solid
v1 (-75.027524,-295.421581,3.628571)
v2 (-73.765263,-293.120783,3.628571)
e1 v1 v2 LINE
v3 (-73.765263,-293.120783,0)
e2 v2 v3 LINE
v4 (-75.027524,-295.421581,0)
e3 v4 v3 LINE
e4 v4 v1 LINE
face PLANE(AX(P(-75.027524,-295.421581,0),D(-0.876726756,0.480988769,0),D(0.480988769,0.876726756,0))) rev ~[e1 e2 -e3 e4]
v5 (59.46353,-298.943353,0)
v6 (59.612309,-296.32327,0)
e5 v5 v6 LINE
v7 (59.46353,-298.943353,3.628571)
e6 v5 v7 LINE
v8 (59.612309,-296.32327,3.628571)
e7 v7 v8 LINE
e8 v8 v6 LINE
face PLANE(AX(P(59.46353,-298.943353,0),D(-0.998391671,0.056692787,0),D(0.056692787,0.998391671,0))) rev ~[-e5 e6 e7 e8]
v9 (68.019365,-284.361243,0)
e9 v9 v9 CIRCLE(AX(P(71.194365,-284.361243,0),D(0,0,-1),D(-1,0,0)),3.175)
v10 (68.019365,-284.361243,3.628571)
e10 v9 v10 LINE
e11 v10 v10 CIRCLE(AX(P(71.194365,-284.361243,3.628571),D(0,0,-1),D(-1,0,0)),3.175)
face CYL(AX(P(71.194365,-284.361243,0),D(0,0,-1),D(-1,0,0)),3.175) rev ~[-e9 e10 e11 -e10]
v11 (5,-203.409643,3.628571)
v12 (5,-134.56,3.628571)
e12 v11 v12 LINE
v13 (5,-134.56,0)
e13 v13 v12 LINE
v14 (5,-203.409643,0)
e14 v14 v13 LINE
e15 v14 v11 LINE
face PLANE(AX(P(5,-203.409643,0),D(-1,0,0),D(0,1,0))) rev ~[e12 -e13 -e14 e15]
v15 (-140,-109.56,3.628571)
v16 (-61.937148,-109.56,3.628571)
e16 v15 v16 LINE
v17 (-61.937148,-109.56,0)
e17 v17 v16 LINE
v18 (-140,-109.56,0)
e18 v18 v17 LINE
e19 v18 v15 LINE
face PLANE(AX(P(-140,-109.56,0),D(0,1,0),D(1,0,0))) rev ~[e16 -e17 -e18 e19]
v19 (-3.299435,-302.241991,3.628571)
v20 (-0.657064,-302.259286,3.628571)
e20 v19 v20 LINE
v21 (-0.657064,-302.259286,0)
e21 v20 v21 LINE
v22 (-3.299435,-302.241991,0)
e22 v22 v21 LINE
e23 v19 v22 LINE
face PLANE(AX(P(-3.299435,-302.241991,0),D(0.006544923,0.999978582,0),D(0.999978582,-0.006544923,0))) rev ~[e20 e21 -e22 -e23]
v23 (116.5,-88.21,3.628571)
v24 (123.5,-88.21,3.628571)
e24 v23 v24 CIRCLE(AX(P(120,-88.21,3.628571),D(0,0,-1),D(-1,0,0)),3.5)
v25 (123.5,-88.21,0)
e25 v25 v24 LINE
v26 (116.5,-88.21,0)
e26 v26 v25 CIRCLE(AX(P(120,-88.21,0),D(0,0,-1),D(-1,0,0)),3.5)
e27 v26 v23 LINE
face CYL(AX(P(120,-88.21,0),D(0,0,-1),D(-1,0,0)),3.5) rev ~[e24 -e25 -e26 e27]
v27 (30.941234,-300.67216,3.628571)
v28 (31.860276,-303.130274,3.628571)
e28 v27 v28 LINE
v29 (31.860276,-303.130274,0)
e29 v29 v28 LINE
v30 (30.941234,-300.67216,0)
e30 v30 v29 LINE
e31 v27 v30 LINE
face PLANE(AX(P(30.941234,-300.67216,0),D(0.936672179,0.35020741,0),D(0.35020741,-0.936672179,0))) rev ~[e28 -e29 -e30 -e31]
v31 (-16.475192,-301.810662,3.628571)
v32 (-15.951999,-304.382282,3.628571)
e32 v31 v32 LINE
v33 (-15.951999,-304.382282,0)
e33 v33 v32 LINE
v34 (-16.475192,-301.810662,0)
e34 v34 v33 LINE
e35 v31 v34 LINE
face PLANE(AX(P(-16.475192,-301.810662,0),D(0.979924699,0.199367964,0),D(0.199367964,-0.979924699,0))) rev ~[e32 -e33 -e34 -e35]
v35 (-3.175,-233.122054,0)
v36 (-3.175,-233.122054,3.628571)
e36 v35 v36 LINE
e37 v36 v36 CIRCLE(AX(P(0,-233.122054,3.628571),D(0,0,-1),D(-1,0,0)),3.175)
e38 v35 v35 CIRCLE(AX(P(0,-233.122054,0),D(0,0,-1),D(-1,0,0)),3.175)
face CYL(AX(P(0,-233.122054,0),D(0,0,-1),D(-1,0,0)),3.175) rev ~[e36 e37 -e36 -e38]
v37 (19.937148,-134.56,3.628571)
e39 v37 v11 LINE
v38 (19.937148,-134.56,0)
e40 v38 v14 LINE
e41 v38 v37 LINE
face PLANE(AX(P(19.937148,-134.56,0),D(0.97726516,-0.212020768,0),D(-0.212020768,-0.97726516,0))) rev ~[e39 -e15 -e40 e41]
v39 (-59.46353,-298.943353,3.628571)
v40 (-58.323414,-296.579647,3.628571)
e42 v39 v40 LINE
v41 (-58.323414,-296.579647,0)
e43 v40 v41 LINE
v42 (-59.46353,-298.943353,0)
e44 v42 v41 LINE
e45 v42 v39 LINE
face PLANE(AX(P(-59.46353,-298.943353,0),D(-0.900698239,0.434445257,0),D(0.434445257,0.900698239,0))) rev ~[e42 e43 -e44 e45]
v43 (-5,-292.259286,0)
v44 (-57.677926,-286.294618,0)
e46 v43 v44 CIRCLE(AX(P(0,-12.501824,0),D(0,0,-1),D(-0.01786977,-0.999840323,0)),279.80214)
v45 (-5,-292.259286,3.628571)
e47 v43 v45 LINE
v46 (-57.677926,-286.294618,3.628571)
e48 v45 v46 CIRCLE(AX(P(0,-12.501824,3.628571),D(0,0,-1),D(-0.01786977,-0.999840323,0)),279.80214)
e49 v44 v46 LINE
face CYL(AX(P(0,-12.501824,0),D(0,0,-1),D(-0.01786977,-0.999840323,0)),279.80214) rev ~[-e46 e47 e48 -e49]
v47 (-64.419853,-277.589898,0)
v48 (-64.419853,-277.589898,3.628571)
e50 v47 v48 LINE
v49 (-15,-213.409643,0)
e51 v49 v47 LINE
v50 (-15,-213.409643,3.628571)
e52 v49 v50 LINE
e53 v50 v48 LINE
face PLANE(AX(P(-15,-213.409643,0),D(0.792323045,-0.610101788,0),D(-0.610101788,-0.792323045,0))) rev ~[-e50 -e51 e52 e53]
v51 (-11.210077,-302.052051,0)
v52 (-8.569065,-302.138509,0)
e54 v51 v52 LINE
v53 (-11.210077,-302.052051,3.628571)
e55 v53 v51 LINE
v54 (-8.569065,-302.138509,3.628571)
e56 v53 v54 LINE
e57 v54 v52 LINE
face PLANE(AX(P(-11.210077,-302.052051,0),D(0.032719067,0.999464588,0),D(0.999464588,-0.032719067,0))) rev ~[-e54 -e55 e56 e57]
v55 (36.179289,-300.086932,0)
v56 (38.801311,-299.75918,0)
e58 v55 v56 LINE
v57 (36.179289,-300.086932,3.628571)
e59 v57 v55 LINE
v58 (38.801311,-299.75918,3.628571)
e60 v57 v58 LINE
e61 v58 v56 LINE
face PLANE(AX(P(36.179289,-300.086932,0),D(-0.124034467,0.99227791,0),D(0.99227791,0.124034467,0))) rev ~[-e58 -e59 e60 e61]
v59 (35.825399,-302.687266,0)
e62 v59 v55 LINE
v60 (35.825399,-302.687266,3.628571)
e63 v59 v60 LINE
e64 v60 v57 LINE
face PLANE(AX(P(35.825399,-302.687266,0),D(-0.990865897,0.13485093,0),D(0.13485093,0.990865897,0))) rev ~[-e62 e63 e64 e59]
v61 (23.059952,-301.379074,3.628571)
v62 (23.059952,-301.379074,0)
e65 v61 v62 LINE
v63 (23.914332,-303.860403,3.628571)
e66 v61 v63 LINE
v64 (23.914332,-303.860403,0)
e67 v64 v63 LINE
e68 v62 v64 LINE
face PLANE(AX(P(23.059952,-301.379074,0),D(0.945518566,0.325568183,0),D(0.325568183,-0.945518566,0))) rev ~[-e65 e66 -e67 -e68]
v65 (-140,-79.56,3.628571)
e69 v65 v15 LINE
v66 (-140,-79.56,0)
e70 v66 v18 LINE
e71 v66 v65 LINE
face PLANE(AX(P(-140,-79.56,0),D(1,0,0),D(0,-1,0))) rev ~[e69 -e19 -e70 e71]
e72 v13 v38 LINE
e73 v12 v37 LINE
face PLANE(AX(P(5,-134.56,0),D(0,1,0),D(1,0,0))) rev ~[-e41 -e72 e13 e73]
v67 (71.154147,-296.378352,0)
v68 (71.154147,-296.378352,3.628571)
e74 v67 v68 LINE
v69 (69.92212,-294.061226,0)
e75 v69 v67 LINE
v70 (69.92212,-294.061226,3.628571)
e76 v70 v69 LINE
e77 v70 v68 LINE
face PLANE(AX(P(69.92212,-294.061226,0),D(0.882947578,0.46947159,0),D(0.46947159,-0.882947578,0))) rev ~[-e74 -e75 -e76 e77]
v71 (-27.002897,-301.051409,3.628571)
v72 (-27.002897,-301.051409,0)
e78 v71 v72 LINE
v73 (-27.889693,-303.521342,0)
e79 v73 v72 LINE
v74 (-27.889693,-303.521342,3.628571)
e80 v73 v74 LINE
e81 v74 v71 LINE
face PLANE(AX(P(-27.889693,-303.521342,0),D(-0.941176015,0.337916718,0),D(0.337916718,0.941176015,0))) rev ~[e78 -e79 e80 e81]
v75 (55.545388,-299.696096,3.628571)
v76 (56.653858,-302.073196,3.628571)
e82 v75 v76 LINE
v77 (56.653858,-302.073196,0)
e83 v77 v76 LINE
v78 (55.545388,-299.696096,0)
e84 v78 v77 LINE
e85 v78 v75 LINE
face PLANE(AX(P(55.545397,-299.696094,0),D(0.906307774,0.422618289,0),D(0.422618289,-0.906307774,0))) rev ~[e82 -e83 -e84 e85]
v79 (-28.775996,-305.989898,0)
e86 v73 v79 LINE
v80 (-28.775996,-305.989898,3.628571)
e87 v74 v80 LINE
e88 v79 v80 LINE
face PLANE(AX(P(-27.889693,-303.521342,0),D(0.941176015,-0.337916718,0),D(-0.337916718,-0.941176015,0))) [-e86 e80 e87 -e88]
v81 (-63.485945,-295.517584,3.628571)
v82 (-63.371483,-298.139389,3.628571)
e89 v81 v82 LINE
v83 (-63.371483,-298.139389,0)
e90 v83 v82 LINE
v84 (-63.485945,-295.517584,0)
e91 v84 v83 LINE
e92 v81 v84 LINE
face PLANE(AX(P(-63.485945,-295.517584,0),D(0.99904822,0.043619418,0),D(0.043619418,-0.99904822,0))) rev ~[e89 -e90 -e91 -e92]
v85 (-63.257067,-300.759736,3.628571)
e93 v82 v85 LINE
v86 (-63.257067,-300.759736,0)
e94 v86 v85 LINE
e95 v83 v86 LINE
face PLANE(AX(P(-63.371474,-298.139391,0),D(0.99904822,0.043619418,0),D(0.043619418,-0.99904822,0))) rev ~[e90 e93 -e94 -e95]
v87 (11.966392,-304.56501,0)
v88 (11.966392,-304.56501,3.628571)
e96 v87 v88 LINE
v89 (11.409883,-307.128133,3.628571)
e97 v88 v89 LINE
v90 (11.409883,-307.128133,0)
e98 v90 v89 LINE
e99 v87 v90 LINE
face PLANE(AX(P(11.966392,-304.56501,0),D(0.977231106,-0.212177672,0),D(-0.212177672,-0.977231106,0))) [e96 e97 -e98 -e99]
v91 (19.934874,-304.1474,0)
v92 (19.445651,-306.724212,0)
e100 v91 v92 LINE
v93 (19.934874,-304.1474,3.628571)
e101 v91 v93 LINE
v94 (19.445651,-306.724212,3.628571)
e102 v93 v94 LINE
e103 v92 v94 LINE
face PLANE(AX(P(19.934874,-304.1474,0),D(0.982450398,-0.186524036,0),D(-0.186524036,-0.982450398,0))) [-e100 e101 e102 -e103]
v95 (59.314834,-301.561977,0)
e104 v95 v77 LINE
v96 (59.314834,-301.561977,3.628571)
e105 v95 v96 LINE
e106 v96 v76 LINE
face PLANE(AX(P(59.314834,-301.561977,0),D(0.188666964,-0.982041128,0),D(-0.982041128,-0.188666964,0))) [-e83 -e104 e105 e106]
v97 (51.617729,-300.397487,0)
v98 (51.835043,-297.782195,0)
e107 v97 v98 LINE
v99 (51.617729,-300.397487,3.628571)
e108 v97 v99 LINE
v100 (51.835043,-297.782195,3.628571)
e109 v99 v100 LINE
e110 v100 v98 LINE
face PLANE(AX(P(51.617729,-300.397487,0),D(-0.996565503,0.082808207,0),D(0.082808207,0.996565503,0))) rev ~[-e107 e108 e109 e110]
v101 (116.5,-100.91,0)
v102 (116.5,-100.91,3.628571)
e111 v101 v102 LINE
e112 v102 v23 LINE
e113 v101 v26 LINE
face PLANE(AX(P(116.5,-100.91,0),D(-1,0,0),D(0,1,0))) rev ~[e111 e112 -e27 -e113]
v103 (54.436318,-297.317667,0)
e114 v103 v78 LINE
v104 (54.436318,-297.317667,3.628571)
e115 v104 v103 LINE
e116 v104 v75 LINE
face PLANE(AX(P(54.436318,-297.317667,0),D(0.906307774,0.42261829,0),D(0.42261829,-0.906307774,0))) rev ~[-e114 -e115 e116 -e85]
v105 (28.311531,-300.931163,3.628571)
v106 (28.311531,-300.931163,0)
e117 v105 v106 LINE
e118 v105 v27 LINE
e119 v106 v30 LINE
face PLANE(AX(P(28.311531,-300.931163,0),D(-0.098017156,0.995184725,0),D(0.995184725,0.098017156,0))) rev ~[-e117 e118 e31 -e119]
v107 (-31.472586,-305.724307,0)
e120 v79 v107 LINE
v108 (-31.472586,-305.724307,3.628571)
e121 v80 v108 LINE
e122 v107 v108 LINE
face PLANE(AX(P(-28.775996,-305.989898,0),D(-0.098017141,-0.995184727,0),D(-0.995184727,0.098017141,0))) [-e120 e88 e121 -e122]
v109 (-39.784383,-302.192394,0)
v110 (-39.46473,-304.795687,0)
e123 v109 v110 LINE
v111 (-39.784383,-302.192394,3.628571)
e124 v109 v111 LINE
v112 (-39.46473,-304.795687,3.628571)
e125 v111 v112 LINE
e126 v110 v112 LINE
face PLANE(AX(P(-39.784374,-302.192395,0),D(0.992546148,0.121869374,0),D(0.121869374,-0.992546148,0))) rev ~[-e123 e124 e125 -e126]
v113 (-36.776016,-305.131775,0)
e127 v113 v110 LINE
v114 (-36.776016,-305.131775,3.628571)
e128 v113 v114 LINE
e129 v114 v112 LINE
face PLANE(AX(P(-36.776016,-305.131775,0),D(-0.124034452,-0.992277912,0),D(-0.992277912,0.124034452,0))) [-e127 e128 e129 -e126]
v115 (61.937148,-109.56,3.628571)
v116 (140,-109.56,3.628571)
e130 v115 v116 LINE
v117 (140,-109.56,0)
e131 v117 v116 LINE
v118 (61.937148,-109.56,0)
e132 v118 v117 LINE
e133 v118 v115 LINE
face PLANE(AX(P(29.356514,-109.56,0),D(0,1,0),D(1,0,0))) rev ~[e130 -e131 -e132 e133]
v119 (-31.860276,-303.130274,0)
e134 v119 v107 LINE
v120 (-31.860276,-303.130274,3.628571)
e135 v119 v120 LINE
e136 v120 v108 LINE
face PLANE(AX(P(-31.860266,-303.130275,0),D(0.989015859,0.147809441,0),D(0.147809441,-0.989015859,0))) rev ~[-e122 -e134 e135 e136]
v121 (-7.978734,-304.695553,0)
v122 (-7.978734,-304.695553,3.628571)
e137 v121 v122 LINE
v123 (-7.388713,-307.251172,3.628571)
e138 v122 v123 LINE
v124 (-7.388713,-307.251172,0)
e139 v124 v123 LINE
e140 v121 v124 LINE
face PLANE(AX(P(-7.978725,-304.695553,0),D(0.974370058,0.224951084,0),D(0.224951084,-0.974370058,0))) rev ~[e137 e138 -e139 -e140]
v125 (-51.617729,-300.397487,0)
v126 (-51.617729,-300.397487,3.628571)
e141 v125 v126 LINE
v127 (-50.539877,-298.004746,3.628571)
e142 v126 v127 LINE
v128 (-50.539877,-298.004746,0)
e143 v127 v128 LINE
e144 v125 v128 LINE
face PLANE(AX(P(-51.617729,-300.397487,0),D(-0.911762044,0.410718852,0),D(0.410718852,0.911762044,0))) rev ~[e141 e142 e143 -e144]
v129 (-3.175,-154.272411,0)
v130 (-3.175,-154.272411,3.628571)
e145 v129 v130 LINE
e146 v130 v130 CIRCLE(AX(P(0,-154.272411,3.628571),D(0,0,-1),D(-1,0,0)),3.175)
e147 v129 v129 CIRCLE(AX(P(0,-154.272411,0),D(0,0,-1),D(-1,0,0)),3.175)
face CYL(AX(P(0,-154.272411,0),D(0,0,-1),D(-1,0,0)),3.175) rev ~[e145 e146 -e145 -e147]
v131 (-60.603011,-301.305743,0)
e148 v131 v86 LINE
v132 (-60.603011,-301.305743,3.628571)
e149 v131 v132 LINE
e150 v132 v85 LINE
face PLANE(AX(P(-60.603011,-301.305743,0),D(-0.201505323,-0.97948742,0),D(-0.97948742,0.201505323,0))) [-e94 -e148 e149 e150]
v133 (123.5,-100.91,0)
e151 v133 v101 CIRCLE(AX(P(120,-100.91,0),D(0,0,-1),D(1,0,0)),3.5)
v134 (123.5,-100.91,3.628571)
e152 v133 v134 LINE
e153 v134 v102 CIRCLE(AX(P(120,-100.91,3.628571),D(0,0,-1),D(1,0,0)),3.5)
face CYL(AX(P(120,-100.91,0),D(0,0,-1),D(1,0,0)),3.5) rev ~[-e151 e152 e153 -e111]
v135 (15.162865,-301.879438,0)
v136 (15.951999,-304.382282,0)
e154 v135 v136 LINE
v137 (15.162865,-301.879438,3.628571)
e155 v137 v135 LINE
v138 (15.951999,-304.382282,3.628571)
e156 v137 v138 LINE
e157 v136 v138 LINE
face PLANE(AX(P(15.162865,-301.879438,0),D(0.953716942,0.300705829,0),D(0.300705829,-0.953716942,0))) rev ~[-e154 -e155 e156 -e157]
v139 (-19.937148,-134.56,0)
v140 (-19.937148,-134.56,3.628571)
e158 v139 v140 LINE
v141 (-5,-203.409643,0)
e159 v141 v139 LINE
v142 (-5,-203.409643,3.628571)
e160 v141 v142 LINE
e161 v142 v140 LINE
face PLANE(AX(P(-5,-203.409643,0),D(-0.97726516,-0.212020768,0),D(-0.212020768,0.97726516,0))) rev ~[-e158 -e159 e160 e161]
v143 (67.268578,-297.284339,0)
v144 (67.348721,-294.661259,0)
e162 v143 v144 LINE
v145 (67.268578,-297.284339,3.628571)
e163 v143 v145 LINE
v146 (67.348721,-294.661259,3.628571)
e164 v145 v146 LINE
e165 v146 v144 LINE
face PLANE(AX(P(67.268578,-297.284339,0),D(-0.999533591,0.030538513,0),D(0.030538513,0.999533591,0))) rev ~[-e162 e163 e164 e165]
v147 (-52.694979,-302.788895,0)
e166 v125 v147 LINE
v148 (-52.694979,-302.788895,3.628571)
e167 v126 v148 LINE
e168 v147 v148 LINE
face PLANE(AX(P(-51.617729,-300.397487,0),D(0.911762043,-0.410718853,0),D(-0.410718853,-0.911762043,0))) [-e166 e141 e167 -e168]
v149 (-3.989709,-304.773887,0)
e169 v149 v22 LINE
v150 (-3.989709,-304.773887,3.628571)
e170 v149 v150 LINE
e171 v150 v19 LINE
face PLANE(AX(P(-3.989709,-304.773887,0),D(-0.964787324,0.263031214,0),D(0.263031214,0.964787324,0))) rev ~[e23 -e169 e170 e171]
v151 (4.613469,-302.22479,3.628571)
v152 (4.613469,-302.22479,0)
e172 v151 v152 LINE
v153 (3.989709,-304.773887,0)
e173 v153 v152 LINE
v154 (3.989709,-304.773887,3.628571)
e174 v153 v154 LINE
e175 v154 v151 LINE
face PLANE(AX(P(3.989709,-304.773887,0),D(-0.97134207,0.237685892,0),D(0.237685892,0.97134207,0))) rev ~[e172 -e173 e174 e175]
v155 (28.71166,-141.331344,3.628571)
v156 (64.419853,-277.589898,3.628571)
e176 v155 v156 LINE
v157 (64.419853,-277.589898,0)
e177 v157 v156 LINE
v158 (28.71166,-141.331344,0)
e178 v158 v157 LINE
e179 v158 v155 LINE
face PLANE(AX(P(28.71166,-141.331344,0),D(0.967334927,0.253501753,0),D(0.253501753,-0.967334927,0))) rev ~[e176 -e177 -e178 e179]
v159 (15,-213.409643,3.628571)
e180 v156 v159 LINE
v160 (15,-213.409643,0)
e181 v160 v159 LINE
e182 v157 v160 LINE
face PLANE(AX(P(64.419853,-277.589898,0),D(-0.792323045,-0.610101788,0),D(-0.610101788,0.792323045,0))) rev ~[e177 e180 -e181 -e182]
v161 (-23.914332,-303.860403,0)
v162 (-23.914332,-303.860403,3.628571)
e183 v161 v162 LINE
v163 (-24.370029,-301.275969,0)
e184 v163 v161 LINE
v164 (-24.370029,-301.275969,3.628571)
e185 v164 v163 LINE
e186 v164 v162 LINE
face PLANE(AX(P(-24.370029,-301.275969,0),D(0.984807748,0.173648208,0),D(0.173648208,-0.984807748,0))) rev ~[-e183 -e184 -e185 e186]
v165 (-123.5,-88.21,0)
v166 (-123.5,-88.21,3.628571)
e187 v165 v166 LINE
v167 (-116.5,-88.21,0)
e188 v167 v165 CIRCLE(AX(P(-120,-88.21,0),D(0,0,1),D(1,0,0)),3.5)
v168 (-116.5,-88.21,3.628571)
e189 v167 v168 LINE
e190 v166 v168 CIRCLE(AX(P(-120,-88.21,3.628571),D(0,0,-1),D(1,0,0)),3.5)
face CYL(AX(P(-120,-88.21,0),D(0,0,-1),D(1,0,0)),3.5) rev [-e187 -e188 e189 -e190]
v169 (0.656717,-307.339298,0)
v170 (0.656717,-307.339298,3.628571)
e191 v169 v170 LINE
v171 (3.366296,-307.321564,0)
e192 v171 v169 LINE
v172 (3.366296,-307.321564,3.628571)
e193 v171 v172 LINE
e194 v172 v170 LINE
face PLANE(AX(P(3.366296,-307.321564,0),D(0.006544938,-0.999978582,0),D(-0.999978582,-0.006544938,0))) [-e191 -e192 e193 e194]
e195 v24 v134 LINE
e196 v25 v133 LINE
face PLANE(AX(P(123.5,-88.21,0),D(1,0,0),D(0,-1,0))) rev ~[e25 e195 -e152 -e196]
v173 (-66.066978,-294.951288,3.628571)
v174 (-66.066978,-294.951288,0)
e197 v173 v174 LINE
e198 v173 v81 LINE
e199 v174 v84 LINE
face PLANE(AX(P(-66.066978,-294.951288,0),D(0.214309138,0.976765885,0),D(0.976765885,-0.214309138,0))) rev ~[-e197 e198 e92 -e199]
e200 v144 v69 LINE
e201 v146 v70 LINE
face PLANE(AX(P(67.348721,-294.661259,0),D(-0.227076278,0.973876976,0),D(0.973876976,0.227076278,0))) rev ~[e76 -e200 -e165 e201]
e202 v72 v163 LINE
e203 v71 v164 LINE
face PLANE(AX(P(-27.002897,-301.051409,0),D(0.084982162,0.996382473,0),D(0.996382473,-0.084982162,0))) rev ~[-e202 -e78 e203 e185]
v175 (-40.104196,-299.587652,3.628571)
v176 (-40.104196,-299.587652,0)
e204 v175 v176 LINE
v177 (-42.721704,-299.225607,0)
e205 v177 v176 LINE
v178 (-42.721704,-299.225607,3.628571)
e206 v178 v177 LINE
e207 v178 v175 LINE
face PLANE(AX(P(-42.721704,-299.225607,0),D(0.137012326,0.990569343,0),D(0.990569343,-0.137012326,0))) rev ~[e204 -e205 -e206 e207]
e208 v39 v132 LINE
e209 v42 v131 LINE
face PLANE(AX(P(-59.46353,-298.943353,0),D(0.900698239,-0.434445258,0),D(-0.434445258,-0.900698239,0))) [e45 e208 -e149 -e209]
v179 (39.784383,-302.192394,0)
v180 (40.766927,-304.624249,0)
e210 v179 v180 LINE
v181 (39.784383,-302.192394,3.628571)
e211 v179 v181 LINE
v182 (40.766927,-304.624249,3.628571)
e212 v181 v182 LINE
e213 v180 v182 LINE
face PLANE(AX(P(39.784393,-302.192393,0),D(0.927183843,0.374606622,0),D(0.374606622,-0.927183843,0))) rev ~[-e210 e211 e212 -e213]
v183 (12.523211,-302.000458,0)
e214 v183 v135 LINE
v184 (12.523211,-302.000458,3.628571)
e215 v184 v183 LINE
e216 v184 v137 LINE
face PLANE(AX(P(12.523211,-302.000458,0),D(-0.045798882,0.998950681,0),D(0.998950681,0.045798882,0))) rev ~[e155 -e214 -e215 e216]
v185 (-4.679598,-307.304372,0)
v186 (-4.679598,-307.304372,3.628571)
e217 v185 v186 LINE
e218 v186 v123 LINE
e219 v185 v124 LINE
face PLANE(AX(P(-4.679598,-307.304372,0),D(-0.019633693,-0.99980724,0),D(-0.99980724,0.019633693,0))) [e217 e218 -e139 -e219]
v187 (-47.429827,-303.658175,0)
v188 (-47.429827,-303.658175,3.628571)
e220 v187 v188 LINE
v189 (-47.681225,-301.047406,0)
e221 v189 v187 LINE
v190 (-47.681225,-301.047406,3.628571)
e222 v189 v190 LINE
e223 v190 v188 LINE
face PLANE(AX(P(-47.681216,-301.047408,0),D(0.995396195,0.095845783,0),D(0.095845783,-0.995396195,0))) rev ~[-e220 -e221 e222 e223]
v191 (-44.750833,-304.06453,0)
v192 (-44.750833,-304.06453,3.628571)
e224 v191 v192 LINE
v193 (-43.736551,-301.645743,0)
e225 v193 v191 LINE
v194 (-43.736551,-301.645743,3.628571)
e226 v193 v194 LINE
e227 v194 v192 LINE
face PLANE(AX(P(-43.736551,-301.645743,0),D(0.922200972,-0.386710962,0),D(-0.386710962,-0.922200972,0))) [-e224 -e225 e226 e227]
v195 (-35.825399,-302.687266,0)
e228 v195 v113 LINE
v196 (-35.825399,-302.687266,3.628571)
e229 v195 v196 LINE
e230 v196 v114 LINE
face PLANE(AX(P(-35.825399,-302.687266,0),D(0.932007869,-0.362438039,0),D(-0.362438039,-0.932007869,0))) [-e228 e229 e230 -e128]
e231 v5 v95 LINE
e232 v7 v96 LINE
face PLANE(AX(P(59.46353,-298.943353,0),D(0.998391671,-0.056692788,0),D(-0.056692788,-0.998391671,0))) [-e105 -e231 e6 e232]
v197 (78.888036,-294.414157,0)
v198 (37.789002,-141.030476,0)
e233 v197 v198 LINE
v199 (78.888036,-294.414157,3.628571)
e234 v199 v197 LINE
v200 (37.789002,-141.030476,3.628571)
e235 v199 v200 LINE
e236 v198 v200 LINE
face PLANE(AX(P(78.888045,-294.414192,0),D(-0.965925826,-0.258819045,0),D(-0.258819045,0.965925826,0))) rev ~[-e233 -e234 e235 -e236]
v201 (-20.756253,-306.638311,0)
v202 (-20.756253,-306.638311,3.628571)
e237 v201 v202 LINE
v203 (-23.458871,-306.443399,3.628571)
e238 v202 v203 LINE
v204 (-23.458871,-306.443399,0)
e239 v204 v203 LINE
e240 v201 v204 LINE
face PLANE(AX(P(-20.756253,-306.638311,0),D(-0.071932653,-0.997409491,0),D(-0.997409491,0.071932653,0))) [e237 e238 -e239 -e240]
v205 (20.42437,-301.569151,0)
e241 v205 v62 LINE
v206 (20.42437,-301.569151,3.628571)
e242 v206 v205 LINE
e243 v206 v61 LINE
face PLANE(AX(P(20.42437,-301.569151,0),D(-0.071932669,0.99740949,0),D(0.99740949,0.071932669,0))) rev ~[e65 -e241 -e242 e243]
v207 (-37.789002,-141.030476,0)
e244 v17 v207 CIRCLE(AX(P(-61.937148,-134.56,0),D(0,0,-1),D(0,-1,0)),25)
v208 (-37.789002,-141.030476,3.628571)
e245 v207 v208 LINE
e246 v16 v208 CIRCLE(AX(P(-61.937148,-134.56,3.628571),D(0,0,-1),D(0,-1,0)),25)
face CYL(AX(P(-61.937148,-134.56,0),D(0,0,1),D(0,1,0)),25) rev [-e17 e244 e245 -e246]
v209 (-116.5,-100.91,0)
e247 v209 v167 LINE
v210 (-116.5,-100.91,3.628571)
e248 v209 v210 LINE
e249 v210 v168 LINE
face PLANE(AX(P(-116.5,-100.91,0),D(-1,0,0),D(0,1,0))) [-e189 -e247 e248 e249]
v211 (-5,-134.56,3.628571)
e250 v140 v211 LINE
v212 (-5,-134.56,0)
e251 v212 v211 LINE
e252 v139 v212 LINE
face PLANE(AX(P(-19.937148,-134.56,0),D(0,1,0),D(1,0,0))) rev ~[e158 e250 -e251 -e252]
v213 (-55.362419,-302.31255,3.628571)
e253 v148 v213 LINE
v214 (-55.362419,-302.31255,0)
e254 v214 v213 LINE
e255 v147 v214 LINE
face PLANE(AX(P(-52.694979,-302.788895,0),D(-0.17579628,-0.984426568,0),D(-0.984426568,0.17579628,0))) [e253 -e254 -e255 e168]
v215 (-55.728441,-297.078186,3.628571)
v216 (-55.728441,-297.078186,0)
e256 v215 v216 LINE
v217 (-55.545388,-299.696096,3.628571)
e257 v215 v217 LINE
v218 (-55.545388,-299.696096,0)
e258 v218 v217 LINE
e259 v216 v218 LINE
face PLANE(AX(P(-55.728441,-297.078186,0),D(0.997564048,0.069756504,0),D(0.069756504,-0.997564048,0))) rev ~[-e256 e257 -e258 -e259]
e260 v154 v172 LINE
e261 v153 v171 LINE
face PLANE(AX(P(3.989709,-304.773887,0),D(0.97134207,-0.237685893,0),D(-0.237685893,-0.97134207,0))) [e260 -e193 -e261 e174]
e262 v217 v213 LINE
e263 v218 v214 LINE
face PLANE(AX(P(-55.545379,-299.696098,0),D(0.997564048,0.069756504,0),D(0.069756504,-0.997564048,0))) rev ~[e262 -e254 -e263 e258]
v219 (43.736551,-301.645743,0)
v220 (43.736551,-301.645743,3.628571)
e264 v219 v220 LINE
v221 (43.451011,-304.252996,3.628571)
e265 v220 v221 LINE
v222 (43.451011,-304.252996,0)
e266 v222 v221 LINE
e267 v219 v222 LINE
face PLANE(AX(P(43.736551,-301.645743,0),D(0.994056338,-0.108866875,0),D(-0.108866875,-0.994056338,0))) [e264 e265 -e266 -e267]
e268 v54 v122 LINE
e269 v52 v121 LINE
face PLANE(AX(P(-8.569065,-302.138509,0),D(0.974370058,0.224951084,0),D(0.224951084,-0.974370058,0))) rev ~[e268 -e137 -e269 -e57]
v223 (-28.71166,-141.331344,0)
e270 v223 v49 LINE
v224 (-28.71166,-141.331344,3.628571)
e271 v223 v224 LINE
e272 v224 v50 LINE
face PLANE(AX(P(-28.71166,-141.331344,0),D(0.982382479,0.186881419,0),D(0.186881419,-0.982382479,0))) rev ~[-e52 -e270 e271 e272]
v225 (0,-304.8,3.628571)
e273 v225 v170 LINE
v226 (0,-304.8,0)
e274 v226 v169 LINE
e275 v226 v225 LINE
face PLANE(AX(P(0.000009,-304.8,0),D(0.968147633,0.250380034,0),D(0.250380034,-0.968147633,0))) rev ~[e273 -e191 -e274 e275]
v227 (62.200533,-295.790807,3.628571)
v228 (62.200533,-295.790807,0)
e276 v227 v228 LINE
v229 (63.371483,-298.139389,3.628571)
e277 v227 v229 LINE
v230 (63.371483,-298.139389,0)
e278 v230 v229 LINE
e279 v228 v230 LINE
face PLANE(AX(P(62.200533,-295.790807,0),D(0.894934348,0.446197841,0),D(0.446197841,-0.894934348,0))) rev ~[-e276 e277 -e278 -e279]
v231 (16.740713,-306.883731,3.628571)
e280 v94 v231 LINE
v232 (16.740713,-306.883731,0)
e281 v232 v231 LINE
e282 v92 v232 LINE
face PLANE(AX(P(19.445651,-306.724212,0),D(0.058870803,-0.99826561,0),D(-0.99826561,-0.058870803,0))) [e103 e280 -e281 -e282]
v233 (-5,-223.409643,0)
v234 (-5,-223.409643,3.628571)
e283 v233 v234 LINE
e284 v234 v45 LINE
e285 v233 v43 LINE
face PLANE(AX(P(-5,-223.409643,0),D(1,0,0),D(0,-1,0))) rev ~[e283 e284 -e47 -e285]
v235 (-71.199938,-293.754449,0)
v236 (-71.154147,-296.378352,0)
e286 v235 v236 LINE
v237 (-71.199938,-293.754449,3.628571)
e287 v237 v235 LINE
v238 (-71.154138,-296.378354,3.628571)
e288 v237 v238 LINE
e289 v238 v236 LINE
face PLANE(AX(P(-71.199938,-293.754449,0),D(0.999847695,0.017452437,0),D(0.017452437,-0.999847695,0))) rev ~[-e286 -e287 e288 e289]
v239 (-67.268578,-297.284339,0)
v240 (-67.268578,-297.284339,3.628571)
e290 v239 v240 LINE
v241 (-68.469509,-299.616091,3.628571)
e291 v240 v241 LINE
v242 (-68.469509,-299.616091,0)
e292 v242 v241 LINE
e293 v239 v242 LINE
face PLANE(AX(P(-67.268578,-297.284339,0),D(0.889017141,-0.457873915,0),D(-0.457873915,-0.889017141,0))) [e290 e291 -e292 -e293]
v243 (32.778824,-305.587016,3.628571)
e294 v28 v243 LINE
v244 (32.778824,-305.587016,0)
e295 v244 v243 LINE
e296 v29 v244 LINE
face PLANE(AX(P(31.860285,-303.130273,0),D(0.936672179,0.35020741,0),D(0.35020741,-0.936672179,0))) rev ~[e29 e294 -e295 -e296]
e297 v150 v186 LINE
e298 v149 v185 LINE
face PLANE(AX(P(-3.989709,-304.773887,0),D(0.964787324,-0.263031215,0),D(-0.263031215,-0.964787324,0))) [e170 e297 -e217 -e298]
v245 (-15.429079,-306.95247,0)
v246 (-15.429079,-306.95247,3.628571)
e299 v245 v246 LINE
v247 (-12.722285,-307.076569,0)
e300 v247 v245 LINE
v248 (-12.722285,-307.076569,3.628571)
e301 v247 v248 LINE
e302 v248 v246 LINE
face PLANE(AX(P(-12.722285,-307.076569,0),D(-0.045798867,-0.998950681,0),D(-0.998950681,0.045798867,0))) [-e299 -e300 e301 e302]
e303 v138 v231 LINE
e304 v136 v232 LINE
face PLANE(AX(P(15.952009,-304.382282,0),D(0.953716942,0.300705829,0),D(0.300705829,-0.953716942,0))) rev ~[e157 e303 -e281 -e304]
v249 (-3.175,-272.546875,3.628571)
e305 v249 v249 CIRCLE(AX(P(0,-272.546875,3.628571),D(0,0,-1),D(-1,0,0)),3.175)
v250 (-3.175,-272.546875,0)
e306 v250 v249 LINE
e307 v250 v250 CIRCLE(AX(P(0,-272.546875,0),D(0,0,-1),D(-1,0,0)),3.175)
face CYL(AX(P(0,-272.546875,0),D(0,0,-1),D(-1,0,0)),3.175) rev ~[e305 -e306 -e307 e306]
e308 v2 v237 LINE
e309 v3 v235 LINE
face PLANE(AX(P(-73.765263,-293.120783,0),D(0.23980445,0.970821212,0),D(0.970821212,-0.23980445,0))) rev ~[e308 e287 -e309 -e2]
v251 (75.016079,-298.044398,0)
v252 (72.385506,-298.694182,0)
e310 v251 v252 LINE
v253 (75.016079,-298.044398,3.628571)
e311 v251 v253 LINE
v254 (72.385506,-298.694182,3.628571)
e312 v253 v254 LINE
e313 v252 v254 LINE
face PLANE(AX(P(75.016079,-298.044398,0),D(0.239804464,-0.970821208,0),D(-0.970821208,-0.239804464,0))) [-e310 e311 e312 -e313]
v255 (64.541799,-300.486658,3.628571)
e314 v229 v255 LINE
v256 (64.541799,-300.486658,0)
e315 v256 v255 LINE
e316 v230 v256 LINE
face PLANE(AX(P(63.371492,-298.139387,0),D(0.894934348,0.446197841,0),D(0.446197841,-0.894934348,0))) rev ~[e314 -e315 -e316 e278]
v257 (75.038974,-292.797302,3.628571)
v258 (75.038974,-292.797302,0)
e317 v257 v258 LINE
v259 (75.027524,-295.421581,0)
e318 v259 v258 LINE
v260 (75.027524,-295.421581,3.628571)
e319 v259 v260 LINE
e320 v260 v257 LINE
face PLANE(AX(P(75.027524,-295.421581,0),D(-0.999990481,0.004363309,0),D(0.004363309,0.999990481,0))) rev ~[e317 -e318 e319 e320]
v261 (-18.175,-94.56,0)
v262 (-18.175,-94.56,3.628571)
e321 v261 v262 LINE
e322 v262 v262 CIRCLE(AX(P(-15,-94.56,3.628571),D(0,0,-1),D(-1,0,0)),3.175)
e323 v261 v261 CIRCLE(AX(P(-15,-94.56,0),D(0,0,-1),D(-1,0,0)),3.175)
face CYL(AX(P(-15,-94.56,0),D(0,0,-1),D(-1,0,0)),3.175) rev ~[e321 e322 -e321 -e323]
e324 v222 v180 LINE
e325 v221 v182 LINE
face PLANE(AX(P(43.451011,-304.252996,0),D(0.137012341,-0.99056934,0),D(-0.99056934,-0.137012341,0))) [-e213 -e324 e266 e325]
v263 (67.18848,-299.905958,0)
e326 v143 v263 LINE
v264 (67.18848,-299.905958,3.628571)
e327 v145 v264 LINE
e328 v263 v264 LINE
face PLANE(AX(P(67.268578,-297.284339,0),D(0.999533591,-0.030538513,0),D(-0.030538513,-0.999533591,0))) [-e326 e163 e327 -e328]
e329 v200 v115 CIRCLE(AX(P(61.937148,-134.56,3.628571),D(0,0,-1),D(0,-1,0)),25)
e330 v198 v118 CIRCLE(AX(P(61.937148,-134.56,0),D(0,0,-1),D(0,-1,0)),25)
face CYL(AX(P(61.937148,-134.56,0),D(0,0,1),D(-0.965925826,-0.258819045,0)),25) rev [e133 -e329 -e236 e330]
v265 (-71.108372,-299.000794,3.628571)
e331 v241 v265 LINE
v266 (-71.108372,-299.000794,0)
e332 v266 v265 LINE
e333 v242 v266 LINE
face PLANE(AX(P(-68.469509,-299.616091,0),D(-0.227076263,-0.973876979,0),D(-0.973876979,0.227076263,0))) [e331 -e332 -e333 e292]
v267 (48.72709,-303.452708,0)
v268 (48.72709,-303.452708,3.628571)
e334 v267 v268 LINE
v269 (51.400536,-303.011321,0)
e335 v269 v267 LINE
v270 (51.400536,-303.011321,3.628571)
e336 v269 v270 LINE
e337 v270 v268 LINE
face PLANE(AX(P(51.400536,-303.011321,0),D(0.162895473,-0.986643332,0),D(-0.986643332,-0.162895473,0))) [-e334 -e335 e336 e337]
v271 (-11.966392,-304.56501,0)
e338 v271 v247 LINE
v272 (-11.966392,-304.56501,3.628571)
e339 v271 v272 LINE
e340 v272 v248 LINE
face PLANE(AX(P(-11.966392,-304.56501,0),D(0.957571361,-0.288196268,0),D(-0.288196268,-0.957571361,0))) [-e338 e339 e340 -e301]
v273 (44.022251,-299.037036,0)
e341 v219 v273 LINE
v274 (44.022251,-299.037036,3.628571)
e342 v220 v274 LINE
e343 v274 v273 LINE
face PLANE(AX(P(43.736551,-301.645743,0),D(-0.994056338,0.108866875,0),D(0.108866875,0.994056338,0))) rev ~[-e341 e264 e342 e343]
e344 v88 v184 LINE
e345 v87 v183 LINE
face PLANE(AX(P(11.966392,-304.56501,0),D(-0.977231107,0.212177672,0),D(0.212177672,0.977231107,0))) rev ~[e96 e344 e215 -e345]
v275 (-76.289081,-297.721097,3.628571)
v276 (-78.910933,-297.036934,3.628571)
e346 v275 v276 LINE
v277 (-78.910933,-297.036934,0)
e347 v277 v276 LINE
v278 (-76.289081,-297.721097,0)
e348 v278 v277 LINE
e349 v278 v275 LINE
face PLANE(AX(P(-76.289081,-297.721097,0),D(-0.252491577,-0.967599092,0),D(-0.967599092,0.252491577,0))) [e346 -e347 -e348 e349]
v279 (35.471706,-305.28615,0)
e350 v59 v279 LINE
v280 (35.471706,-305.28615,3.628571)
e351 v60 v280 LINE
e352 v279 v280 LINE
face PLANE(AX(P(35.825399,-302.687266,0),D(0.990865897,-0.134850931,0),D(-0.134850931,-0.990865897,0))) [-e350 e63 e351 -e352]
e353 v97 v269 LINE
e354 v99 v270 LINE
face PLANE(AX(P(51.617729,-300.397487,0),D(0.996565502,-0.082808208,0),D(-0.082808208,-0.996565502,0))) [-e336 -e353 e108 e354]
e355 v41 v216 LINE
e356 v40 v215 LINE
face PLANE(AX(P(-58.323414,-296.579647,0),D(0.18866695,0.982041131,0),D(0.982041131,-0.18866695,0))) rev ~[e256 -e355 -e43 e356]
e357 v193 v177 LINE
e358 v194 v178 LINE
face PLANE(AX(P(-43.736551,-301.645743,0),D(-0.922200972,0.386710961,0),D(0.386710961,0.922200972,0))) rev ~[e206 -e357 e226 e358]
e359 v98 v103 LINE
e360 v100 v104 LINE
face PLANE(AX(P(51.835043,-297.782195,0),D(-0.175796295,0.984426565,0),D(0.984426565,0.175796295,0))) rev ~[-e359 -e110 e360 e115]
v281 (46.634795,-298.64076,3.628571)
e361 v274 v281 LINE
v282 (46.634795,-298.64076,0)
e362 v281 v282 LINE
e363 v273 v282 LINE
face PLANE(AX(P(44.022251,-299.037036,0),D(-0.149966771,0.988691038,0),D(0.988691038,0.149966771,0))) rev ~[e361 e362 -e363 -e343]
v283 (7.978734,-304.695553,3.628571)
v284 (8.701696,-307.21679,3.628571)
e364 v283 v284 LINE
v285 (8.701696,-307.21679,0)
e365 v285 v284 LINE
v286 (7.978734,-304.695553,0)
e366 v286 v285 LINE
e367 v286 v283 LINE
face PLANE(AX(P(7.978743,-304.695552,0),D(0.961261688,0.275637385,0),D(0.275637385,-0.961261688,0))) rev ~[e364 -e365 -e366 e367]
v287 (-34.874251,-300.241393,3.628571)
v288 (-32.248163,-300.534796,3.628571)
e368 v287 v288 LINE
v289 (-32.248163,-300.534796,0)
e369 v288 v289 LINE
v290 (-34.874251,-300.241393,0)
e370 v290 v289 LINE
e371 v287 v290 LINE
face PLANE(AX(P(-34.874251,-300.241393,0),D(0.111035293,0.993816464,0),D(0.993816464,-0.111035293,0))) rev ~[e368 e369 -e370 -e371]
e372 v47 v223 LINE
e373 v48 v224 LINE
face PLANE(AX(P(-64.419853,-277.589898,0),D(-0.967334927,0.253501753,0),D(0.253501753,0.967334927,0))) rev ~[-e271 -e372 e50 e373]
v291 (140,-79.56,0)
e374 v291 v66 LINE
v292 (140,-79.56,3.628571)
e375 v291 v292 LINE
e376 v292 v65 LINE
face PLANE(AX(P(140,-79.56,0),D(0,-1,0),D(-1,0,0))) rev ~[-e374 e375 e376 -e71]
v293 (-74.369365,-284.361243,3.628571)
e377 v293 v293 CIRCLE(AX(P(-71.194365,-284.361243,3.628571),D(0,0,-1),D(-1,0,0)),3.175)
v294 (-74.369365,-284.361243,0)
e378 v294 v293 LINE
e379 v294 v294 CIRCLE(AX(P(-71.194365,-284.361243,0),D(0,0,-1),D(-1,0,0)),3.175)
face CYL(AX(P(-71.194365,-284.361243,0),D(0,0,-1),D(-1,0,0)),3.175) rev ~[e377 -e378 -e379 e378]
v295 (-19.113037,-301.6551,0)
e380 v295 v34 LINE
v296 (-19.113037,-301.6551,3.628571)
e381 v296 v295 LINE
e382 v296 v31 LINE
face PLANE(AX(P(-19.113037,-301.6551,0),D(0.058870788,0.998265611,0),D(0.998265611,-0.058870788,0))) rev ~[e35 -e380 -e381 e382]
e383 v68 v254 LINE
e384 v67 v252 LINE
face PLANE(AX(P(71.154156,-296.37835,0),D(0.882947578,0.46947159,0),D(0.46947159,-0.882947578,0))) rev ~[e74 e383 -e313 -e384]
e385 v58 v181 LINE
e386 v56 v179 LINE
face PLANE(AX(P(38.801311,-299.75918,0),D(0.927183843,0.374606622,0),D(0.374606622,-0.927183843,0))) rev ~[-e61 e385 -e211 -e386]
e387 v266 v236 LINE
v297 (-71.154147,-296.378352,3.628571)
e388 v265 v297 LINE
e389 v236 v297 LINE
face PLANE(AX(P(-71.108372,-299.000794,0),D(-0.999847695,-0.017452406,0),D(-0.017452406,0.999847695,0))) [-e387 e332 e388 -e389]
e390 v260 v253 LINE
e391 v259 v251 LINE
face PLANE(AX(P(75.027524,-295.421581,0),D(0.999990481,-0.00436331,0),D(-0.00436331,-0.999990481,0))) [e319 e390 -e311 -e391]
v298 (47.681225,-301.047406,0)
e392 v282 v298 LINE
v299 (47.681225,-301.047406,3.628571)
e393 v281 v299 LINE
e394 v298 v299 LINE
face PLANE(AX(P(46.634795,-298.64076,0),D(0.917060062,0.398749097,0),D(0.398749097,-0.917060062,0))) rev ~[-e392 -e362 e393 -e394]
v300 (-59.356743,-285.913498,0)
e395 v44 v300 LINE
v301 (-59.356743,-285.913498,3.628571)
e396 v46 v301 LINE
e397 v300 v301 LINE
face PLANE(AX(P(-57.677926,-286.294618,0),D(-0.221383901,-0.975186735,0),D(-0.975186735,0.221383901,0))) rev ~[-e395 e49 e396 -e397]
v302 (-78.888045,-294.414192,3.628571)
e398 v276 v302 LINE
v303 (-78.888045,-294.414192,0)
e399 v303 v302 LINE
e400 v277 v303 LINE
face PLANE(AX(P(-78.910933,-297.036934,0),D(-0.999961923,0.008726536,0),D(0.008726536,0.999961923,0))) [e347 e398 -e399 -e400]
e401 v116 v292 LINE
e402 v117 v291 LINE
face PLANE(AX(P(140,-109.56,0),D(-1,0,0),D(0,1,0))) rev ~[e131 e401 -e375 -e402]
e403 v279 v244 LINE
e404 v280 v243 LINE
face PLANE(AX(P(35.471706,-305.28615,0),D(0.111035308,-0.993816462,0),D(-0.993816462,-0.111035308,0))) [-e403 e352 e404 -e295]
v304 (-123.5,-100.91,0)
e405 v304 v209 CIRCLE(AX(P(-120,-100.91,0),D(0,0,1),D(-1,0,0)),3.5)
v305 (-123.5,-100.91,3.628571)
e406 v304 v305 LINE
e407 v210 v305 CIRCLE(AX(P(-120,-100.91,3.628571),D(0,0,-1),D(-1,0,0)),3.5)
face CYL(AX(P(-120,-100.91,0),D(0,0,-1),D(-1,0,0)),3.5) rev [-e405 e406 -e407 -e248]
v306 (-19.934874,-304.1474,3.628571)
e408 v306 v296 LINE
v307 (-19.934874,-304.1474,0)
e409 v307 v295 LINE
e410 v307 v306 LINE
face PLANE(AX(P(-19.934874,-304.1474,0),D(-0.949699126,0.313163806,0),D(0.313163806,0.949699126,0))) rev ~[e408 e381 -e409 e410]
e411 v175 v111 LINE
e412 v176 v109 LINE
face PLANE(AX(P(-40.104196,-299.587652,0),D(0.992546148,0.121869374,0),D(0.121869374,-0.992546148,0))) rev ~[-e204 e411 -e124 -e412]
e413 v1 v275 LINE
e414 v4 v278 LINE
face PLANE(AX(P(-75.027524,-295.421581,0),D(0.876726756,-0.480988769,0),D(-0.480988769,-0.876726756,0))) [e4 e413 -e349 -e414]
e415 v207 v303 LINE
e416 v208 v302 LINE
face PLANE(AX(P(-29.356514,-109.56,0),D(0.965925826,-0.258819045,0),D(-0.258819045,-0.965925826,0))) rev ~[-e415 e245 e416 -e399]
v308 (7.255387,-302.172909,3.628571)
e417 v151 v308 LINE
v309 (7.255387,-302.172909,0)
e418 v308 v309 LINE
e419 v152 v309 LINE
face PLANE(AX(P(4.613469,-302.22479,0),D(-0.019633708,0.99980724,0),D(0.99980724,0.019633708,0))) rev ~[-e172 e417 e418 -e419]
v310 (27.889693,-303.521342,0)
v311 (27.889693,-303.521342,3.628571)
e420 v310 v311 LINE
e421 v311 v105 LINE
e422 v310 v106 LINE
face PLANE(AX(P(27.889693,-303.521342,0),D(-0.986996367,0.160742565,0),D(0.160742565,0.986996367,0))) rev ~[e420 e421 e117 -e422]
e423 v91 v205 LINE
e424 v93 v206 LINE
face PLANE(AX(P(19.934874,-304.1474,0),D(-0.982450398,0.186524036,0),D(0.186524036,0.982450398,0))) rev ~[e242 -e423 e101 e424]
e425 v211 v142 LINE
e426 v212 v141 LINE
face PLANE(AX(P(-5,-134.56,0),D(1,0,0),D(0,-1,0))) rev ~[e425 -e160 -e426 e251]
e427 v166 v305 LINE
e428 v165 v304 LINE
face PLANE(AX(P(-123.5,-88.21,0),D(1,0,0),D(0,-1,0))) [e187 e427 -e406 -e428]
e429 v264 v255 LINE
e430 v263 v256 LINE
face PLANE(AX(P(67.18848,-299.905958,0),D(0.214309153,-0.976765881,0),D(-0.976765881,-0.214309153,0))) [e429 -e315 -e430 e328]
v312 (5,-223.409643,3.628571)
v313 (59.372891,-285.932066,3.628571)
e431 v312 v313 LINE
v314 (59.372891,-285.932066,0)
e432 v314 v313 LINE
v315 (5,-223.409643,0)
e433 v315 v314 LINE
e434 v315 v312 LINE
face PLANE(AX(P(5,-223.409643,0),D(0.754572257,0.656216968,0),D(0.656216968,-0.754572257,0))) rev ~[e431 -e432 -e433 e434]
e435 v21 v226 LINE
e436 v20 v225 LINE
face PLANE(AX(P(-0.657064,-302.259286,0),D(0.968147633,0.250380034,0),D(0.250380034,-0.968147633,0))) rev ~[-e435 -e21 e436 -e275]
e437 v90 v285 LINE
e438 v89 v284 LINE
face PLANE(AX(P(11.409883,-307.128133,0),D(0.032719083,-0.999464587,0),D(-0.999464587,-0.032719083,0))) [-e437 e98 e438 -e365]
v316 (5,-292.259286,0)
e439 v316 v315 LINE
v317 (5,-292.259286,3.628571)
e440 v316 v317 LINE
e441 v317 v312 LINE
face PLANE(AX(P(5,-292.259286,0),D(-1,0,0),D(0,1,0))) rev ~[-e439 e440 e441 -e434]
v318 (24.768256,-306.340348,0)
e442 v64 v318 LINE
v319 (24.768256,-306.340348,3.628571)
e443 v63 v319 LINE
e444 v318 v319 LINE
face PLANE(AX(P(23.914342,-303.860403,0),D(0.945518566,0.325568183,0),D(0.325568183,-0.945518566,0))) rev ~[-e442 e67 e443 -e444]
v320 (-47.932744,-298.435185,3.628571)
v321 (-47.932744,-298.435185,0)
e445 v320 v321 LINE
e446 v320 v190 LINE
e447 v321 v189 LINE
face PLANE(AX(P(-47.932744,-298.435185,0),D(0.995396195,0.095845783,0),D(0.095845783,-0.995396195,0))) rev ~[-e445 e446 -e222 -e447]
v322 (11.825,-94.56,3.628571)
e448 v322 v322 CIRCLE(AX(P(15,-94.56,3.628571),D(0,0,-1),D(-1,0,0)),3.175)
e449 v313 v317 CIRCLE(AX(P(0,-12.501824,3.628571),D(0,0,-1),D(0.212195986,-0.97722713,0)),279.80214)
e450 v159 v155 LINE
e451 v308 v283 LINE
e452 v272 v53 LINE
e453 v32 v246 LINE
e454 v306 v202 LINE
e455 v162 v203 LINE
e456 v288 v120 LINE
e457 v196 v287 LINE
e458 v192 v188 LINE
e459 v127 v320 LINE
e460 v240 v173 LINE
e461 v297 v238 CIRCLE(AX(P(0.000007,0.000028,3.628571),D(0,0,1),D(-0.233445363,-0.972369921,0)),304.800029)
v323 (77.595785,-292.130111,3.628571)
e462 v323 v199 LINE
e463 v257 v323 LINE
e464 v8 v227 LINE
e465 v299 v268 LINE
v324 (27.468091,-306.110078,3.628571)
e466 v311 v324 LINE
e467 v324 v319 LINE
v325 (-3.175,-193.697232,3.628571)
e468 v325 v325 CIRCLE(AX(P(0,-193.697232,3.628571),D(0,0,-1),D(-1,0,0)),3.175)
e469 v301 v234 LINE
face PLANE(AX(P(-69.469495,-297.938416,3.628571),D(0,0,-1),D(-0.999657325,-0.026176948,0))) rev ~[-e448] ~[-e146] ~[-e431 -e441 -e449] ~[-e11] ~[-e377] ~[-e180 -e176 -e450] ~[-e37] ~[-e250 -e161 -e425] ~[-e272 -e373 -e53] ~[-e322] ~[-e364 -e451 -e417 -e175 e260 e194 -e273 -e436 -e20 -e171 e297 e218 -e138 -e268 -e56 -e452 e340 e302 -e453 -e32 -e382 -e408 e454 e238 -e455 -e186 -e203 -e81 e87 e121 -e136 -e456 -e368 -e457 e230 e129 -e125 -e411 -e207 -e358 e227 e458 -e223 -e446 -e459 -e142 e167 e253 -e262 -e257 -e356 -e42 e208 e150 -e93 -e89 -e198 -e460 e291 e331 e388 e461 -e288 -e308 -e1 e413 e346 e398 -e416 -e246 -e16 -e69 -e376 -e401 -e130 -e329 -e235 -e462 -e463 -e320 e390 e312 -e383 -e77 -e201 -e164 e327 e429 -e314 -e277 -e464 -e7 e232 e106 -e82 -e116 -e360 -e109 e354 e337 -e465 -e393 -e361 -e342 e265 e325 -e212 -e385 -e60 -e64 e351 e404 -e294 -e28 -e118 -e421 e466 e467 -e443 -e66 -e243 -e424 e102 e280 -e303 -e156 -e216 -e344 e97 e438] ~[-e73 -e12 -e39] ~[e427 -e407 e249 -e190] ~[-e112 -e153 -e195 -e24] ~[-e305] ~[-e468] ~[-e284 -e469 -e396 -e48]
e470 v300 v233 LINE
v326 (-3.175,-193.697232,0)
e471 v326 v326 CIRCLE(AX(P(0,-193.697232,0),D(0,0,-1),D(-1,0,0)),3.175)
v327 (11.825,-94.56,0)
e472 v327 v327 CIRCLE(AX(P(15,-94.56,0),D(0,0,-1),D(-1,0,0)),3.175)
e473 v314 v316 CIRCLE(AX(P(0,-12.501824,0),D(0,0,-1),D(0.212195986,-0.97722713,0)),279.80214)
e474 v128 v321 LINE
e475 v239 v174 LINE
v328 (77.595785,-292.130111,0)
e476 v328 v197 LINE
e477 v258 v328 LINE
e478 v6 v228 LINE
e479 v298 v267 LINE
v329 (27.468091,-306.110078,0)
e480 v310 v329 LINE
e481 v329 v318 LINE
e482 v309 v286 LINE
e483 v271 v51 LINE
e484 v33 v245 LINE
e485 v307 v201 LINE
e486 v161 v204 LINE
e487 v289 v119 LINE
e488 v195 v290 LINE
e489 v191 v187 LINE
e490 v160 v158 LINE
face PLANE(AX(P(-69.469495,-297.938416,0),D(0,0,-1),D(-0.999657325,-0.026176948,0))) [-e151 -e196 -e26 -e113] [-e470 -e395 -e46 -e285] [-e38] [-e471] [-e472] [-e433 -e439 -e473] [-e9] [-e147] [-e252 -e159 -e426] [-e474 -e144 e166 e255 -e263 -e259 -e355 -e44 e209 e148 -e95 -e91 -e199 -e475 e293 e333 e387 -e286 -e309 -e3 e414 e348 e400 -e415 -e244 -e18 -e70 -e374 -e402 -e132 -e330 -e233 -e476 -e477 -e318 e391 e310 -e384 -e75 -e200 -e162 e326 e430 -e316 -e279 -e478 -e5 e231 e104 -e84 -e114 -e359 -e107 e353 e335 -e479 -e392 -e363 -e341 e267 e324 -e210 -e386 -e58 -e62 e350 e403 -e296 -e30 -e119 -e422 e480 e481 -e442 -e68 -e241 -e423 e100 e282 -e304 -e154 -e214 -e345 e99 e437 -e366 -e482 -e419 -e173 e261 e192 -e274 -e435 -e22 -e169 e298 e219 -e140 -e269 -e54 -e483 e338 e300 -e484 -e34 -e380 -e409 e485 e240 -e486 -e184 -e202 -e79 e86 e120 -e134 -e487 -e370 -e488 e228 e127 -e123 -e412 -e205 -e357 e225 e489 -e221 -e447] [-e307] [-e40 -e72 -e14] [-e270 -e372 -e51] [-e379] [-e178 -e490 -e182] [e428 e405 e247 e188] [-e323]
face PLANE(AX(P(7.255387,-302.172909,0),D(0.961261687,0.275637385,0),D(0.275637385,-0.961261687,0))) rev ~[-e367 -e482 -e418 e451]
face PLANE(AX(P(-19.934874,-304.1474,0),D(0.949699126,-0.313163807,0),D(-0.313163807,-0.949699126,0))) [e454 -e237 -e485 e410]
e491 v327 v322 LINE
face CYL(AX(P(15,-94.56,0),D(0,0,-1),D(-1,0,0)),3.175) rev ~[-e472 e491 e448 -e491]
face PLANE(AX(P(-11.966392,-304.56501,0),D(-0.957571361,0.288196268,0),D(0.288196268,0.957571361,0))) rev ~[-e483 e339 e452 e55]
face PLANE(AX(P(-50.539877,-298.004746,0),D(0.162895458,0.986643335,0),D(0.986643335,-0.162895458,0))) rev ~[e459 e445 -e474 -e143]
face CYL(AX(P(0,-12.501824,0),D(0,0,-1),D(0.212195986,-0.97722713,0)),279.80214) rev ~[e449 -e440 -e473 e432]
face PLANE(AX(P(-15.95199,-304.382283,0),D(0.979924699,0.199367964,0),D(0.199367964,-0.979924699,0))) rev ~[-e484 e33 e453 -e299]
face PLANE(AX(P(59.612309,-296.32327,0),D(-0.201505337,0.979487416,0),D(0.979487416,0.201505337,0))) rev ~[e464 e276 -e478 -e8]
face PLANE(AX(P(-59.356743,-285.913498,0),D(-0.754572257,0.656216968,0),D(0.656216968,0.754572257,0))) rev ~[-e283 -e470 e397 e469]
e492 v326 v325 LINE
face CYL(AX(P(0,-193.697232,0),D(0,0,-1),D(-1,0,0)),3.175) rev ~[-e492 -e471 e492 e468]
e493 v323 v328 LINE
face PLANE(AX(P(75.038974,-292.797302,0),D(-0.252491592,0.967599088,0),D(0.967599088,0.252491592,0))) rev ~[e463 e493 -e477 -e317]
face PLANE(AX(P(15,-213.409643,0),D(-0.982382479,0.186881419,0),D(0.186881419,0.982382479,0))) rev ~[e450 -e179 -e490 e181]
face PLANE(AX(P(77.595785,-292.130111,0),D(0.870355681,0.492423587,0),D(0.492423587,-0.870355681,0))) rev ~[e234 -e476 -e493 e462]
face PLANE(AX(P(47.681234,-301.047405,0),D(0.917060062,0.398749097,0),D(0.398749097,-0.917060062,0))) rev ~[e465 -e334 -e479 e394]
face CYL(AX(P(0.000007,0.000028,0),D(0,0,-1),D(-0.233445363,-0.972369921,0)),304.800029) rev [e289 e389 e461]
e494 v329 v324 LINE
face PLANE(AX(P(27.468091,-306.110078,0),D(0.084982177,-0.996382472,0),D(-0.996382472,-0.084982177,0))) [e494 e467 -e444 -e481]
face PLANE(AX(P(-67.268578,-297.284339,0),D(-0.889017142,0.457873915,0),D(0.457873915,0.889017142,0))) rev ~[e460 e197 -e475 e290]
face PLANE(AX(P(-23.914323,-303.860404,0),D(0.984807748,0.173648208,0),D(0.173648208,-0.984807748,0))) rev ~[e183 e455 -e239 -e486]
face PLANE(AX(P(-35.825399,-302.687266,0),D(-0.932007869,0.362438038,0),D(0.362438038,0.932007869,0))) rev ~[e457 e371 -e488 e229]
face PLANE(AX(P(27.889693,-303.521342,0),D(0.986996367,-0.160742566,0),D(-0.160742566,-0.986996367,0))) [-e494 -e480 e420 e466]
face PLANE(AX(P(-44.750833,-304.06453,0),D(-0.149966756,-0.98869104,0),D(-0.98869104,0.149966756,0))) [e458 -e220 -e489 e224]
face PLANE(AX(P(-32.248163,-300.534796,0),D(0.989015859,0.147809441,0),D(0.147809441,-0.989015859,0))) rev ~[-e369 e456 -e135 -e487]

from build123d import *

# Parameters (mm, degrees)
BOSS_EXTRUDE2_DEPTH = 3.628571429
FILLET1_R           = 25
BOSS_EXTRUDE4_DEPTH = 3.628571429
CUT_EXTRUDE2_DEPTH  = 336.434355024
CIRPATTERN8_COUNT   = 20
CIRPATTERN8_ANGLE   = 28.5
SKETCH5_R           = 3.175
CUT_EXTRUDE3_DEPTH  = 338.743409804
SKETCH17_R          = 3.175
CUT_EXTRUDE4_DEPTH  = 338.743409804


with BuildPart() as part:
    # Sketch3 → Boss-Extrude2 (new body)
    with BuildSketch(Plane.XY):
        with BuildLine():
            Line((-140, -79.56), (-140, -109.56))
            Line((-140, -109.56), (-29.356513523, -109.56))
            Line((-29.356513523, -109.56), (-78.888044947, -294.414191853))
            ThreePointArc((-78.888044947, -294.414191853), (0, -304.8), (78.888044947, -294.414191853))
            Line((78.888044947, -294.414191853), (29.356513523, -109.56))
            Line((29.356513523, -109.56), (140, -109.56))
            Line((140, -109.56), (140, -79.56))
            Line((140, -79.56), (-140, -79.56))
        make_face()
    extrude(amount=BOSS_EXTRUDE2_DEPTH)

    # Fillet1
    fillet1_edges = [part.edges().sort_by_distance(p)[0] for p in [
        (29.356513523, -109.56, 1.814285714),
        (-29.356513523, -109.56, 1.814285714),
    ]]
    fillet(fillet1_edges, radius=FILLET1_R)

    # Sketch14 → Boss-Extrude4 (add)
    with BuildSketch(Plane(origin=(0, 0, 0), x_dir=(-1, 0, 0), z_dir=(0, 0, -1))):
        with BuildLine():
            Line((78.910933272, -297.036934084), (78.888044947, -294.414191853))
            ThreePointArc((78.888044947, -294.414191853), (76.959432674, -294.924203351), (75.027523715, -295.421581279))
            Line((75.027523715, -295.421581279), (76.289081309, -297.721097125))
            Line((76.289081309, -297.721097125), (78.910933272, -297.036934084))
        make_face()
    boss_extrude4 = extrude(amount=-BOSS_EXTRUDE4_DEPTH)

    # Sketch16 → Cut-Extrude2 (cut, symmetric)
    with BuildSketch(Plane(origin=(0, 0, 0), x_dir=(-1, 0, 0), z_dir=(0, 0, -1))):
        Polygon((372.937709596, -838.440145613), (75.027523715, -295.421581279), (73.765262731, -293.12078332), (71.19993834, -293.754449124), (71.154137831, -296.378353915), (60.344615656, -915.654378233), (357.400151379, -2118.250141136), (669.993245319, -2041.035908516), align=None)
    cut_extrude2 = extrude(amount=CUT_EXTRUDE2_DEPTH, both=True, mode=Mode.SUBTRACT)

    # CirPattern8: Boss-Extrude4, Cut-Extrude2 ×20 about axis
    cirpattern8_axis = Axis((0, 0, 0), (0, 0, 1))
    add([boss_extrude4.rotate(cirpattern8_axis, i * CIRPATTERN8_ANGLE / (CIRPATTERN8_COUNT - 1)) for i in range(1, CIRPATTERN8_COUNT)])
    add([cut_extrude2.rotate(cirpattern8_axis, i * CIRPATTERN8_ANGLE / (CIRPATTERN8_COUNT - 1)) for i in range(1, CIRPATTERN8_COUNT)], mode=Mode.SUBTRACT)

    # Sketch5 → Cut-Extrude3 (cut, through all)
    with BuildSketch(Plane(origin=(0, 0, 0), x_dir=(-1, 0, 0), z_dir=(0, 0, -1))):
        with Locations((-15, -94.56)):
            Circle(SKETCH5_R)
        with Locations((15, -94.56)):
            Circle(SKETCH5_R)
        with BuildLine():
            Line((-123.5, -94.56), (-123.5, -100.91))
            ThreePointArc((-123.5, -100.91), (-120, -104.41), (-116.5, -100.91))
            Line((-116.5, -100.91), (-116.5, -94.56))
            Line((-116.5, -94.56), (-116.5, -88.21))
            ThreePointArc((-116.5, -88.21), (-120, -84.71), (-123.5, -88.21))
            Line((-123.5, -88.21), (-123.5, -94.56))
        make_face()
        with BuildLine():
            Line((116.5, -94.56), (116.5, -88.21))
            ThreePointArc((116.5, -88.21), (120, -84.71), (123.5, -88.21))
            Line((123.5, -88.21), (123.5, -94.56))
            Line((123.5, -94.56), (123.5, -100.91))
            ThreePointArc((123.5, -100.91), (120, -104.41), (116.5, -100.91))
            Line((116.5, -100.91), (116.5, -94.56))
        make_face()
    extrude(amount=-CUT_EXTRUDE3_DEPTH, mode=Mode.SUBTRACT)

    # Sketch17 → Cut-Extrude4 (cut, through all)
    with BuildSketch(Plane(origin=(0, 0, 0), x_dir=(-1, 0, 0), z_dir=(0, 0, -1))):
        Polygon((-28.711660115, -141.33134449), (-64.419853025, -277.589898046), (-15, -213.409642912), align=None)
        Polygon((15, -213.409642912), (64.419853025, -277.589898046), (28.711660115, -141.33134449), align=None)
        with BuildLine():
            Line((57.677925946, -286.294618468), (59.356743472, -285.913498464))
            Line((59.356743472, -285.913498464), (5, -223.409642912))
            Line((5, -223.409642912), (5, -292.259285824))
            ThreePointArc((5, -292.259285824), (31.480548191, -290.527384931), (57.677925946, -286.294618468))
        make_face()
        with BuildLine():
            Line((-5, -223.409642912), (-59.372890863, -285.932066063))
            ThreePointArc((-59.372890863, -285.932066063), (-32.341547535, -290.428544105), (-5, -292.259285824))
            Line((-5, -292.259285824), (-5, -223.409642912))
        make_face()
        Polygon((5, -203.409642912), (19.937147844, -134.56), (5, -134.56), align=None)
        Polygon((-19.937147844, -134.56), (-5, -203.409642912), (-5, -134.56), align=None)
        with Locations((0, -193.697232184)):
            Circle(SKETCH17_R)
        with Locations((0, -154.272410728)):
            Circle(SKETCH17_R)
        with Locations((0, -233.12205364)):
            Circle(SKETCH17_R)
        with Locations((0, -272.546875096)):
            Circle(SKETCH17_R)
        with Locations((71.194365296, -284.361242536)):
            Circle(SKETCH17_R)
        with Locations((-71.194365296, -284.361242536)):
            Circle(SKETCH17_R)
    extrude(amount=-CUT_EXTRUDE4_DEPTH, mode=Mode.SUBTRACT)


solid = part.part
